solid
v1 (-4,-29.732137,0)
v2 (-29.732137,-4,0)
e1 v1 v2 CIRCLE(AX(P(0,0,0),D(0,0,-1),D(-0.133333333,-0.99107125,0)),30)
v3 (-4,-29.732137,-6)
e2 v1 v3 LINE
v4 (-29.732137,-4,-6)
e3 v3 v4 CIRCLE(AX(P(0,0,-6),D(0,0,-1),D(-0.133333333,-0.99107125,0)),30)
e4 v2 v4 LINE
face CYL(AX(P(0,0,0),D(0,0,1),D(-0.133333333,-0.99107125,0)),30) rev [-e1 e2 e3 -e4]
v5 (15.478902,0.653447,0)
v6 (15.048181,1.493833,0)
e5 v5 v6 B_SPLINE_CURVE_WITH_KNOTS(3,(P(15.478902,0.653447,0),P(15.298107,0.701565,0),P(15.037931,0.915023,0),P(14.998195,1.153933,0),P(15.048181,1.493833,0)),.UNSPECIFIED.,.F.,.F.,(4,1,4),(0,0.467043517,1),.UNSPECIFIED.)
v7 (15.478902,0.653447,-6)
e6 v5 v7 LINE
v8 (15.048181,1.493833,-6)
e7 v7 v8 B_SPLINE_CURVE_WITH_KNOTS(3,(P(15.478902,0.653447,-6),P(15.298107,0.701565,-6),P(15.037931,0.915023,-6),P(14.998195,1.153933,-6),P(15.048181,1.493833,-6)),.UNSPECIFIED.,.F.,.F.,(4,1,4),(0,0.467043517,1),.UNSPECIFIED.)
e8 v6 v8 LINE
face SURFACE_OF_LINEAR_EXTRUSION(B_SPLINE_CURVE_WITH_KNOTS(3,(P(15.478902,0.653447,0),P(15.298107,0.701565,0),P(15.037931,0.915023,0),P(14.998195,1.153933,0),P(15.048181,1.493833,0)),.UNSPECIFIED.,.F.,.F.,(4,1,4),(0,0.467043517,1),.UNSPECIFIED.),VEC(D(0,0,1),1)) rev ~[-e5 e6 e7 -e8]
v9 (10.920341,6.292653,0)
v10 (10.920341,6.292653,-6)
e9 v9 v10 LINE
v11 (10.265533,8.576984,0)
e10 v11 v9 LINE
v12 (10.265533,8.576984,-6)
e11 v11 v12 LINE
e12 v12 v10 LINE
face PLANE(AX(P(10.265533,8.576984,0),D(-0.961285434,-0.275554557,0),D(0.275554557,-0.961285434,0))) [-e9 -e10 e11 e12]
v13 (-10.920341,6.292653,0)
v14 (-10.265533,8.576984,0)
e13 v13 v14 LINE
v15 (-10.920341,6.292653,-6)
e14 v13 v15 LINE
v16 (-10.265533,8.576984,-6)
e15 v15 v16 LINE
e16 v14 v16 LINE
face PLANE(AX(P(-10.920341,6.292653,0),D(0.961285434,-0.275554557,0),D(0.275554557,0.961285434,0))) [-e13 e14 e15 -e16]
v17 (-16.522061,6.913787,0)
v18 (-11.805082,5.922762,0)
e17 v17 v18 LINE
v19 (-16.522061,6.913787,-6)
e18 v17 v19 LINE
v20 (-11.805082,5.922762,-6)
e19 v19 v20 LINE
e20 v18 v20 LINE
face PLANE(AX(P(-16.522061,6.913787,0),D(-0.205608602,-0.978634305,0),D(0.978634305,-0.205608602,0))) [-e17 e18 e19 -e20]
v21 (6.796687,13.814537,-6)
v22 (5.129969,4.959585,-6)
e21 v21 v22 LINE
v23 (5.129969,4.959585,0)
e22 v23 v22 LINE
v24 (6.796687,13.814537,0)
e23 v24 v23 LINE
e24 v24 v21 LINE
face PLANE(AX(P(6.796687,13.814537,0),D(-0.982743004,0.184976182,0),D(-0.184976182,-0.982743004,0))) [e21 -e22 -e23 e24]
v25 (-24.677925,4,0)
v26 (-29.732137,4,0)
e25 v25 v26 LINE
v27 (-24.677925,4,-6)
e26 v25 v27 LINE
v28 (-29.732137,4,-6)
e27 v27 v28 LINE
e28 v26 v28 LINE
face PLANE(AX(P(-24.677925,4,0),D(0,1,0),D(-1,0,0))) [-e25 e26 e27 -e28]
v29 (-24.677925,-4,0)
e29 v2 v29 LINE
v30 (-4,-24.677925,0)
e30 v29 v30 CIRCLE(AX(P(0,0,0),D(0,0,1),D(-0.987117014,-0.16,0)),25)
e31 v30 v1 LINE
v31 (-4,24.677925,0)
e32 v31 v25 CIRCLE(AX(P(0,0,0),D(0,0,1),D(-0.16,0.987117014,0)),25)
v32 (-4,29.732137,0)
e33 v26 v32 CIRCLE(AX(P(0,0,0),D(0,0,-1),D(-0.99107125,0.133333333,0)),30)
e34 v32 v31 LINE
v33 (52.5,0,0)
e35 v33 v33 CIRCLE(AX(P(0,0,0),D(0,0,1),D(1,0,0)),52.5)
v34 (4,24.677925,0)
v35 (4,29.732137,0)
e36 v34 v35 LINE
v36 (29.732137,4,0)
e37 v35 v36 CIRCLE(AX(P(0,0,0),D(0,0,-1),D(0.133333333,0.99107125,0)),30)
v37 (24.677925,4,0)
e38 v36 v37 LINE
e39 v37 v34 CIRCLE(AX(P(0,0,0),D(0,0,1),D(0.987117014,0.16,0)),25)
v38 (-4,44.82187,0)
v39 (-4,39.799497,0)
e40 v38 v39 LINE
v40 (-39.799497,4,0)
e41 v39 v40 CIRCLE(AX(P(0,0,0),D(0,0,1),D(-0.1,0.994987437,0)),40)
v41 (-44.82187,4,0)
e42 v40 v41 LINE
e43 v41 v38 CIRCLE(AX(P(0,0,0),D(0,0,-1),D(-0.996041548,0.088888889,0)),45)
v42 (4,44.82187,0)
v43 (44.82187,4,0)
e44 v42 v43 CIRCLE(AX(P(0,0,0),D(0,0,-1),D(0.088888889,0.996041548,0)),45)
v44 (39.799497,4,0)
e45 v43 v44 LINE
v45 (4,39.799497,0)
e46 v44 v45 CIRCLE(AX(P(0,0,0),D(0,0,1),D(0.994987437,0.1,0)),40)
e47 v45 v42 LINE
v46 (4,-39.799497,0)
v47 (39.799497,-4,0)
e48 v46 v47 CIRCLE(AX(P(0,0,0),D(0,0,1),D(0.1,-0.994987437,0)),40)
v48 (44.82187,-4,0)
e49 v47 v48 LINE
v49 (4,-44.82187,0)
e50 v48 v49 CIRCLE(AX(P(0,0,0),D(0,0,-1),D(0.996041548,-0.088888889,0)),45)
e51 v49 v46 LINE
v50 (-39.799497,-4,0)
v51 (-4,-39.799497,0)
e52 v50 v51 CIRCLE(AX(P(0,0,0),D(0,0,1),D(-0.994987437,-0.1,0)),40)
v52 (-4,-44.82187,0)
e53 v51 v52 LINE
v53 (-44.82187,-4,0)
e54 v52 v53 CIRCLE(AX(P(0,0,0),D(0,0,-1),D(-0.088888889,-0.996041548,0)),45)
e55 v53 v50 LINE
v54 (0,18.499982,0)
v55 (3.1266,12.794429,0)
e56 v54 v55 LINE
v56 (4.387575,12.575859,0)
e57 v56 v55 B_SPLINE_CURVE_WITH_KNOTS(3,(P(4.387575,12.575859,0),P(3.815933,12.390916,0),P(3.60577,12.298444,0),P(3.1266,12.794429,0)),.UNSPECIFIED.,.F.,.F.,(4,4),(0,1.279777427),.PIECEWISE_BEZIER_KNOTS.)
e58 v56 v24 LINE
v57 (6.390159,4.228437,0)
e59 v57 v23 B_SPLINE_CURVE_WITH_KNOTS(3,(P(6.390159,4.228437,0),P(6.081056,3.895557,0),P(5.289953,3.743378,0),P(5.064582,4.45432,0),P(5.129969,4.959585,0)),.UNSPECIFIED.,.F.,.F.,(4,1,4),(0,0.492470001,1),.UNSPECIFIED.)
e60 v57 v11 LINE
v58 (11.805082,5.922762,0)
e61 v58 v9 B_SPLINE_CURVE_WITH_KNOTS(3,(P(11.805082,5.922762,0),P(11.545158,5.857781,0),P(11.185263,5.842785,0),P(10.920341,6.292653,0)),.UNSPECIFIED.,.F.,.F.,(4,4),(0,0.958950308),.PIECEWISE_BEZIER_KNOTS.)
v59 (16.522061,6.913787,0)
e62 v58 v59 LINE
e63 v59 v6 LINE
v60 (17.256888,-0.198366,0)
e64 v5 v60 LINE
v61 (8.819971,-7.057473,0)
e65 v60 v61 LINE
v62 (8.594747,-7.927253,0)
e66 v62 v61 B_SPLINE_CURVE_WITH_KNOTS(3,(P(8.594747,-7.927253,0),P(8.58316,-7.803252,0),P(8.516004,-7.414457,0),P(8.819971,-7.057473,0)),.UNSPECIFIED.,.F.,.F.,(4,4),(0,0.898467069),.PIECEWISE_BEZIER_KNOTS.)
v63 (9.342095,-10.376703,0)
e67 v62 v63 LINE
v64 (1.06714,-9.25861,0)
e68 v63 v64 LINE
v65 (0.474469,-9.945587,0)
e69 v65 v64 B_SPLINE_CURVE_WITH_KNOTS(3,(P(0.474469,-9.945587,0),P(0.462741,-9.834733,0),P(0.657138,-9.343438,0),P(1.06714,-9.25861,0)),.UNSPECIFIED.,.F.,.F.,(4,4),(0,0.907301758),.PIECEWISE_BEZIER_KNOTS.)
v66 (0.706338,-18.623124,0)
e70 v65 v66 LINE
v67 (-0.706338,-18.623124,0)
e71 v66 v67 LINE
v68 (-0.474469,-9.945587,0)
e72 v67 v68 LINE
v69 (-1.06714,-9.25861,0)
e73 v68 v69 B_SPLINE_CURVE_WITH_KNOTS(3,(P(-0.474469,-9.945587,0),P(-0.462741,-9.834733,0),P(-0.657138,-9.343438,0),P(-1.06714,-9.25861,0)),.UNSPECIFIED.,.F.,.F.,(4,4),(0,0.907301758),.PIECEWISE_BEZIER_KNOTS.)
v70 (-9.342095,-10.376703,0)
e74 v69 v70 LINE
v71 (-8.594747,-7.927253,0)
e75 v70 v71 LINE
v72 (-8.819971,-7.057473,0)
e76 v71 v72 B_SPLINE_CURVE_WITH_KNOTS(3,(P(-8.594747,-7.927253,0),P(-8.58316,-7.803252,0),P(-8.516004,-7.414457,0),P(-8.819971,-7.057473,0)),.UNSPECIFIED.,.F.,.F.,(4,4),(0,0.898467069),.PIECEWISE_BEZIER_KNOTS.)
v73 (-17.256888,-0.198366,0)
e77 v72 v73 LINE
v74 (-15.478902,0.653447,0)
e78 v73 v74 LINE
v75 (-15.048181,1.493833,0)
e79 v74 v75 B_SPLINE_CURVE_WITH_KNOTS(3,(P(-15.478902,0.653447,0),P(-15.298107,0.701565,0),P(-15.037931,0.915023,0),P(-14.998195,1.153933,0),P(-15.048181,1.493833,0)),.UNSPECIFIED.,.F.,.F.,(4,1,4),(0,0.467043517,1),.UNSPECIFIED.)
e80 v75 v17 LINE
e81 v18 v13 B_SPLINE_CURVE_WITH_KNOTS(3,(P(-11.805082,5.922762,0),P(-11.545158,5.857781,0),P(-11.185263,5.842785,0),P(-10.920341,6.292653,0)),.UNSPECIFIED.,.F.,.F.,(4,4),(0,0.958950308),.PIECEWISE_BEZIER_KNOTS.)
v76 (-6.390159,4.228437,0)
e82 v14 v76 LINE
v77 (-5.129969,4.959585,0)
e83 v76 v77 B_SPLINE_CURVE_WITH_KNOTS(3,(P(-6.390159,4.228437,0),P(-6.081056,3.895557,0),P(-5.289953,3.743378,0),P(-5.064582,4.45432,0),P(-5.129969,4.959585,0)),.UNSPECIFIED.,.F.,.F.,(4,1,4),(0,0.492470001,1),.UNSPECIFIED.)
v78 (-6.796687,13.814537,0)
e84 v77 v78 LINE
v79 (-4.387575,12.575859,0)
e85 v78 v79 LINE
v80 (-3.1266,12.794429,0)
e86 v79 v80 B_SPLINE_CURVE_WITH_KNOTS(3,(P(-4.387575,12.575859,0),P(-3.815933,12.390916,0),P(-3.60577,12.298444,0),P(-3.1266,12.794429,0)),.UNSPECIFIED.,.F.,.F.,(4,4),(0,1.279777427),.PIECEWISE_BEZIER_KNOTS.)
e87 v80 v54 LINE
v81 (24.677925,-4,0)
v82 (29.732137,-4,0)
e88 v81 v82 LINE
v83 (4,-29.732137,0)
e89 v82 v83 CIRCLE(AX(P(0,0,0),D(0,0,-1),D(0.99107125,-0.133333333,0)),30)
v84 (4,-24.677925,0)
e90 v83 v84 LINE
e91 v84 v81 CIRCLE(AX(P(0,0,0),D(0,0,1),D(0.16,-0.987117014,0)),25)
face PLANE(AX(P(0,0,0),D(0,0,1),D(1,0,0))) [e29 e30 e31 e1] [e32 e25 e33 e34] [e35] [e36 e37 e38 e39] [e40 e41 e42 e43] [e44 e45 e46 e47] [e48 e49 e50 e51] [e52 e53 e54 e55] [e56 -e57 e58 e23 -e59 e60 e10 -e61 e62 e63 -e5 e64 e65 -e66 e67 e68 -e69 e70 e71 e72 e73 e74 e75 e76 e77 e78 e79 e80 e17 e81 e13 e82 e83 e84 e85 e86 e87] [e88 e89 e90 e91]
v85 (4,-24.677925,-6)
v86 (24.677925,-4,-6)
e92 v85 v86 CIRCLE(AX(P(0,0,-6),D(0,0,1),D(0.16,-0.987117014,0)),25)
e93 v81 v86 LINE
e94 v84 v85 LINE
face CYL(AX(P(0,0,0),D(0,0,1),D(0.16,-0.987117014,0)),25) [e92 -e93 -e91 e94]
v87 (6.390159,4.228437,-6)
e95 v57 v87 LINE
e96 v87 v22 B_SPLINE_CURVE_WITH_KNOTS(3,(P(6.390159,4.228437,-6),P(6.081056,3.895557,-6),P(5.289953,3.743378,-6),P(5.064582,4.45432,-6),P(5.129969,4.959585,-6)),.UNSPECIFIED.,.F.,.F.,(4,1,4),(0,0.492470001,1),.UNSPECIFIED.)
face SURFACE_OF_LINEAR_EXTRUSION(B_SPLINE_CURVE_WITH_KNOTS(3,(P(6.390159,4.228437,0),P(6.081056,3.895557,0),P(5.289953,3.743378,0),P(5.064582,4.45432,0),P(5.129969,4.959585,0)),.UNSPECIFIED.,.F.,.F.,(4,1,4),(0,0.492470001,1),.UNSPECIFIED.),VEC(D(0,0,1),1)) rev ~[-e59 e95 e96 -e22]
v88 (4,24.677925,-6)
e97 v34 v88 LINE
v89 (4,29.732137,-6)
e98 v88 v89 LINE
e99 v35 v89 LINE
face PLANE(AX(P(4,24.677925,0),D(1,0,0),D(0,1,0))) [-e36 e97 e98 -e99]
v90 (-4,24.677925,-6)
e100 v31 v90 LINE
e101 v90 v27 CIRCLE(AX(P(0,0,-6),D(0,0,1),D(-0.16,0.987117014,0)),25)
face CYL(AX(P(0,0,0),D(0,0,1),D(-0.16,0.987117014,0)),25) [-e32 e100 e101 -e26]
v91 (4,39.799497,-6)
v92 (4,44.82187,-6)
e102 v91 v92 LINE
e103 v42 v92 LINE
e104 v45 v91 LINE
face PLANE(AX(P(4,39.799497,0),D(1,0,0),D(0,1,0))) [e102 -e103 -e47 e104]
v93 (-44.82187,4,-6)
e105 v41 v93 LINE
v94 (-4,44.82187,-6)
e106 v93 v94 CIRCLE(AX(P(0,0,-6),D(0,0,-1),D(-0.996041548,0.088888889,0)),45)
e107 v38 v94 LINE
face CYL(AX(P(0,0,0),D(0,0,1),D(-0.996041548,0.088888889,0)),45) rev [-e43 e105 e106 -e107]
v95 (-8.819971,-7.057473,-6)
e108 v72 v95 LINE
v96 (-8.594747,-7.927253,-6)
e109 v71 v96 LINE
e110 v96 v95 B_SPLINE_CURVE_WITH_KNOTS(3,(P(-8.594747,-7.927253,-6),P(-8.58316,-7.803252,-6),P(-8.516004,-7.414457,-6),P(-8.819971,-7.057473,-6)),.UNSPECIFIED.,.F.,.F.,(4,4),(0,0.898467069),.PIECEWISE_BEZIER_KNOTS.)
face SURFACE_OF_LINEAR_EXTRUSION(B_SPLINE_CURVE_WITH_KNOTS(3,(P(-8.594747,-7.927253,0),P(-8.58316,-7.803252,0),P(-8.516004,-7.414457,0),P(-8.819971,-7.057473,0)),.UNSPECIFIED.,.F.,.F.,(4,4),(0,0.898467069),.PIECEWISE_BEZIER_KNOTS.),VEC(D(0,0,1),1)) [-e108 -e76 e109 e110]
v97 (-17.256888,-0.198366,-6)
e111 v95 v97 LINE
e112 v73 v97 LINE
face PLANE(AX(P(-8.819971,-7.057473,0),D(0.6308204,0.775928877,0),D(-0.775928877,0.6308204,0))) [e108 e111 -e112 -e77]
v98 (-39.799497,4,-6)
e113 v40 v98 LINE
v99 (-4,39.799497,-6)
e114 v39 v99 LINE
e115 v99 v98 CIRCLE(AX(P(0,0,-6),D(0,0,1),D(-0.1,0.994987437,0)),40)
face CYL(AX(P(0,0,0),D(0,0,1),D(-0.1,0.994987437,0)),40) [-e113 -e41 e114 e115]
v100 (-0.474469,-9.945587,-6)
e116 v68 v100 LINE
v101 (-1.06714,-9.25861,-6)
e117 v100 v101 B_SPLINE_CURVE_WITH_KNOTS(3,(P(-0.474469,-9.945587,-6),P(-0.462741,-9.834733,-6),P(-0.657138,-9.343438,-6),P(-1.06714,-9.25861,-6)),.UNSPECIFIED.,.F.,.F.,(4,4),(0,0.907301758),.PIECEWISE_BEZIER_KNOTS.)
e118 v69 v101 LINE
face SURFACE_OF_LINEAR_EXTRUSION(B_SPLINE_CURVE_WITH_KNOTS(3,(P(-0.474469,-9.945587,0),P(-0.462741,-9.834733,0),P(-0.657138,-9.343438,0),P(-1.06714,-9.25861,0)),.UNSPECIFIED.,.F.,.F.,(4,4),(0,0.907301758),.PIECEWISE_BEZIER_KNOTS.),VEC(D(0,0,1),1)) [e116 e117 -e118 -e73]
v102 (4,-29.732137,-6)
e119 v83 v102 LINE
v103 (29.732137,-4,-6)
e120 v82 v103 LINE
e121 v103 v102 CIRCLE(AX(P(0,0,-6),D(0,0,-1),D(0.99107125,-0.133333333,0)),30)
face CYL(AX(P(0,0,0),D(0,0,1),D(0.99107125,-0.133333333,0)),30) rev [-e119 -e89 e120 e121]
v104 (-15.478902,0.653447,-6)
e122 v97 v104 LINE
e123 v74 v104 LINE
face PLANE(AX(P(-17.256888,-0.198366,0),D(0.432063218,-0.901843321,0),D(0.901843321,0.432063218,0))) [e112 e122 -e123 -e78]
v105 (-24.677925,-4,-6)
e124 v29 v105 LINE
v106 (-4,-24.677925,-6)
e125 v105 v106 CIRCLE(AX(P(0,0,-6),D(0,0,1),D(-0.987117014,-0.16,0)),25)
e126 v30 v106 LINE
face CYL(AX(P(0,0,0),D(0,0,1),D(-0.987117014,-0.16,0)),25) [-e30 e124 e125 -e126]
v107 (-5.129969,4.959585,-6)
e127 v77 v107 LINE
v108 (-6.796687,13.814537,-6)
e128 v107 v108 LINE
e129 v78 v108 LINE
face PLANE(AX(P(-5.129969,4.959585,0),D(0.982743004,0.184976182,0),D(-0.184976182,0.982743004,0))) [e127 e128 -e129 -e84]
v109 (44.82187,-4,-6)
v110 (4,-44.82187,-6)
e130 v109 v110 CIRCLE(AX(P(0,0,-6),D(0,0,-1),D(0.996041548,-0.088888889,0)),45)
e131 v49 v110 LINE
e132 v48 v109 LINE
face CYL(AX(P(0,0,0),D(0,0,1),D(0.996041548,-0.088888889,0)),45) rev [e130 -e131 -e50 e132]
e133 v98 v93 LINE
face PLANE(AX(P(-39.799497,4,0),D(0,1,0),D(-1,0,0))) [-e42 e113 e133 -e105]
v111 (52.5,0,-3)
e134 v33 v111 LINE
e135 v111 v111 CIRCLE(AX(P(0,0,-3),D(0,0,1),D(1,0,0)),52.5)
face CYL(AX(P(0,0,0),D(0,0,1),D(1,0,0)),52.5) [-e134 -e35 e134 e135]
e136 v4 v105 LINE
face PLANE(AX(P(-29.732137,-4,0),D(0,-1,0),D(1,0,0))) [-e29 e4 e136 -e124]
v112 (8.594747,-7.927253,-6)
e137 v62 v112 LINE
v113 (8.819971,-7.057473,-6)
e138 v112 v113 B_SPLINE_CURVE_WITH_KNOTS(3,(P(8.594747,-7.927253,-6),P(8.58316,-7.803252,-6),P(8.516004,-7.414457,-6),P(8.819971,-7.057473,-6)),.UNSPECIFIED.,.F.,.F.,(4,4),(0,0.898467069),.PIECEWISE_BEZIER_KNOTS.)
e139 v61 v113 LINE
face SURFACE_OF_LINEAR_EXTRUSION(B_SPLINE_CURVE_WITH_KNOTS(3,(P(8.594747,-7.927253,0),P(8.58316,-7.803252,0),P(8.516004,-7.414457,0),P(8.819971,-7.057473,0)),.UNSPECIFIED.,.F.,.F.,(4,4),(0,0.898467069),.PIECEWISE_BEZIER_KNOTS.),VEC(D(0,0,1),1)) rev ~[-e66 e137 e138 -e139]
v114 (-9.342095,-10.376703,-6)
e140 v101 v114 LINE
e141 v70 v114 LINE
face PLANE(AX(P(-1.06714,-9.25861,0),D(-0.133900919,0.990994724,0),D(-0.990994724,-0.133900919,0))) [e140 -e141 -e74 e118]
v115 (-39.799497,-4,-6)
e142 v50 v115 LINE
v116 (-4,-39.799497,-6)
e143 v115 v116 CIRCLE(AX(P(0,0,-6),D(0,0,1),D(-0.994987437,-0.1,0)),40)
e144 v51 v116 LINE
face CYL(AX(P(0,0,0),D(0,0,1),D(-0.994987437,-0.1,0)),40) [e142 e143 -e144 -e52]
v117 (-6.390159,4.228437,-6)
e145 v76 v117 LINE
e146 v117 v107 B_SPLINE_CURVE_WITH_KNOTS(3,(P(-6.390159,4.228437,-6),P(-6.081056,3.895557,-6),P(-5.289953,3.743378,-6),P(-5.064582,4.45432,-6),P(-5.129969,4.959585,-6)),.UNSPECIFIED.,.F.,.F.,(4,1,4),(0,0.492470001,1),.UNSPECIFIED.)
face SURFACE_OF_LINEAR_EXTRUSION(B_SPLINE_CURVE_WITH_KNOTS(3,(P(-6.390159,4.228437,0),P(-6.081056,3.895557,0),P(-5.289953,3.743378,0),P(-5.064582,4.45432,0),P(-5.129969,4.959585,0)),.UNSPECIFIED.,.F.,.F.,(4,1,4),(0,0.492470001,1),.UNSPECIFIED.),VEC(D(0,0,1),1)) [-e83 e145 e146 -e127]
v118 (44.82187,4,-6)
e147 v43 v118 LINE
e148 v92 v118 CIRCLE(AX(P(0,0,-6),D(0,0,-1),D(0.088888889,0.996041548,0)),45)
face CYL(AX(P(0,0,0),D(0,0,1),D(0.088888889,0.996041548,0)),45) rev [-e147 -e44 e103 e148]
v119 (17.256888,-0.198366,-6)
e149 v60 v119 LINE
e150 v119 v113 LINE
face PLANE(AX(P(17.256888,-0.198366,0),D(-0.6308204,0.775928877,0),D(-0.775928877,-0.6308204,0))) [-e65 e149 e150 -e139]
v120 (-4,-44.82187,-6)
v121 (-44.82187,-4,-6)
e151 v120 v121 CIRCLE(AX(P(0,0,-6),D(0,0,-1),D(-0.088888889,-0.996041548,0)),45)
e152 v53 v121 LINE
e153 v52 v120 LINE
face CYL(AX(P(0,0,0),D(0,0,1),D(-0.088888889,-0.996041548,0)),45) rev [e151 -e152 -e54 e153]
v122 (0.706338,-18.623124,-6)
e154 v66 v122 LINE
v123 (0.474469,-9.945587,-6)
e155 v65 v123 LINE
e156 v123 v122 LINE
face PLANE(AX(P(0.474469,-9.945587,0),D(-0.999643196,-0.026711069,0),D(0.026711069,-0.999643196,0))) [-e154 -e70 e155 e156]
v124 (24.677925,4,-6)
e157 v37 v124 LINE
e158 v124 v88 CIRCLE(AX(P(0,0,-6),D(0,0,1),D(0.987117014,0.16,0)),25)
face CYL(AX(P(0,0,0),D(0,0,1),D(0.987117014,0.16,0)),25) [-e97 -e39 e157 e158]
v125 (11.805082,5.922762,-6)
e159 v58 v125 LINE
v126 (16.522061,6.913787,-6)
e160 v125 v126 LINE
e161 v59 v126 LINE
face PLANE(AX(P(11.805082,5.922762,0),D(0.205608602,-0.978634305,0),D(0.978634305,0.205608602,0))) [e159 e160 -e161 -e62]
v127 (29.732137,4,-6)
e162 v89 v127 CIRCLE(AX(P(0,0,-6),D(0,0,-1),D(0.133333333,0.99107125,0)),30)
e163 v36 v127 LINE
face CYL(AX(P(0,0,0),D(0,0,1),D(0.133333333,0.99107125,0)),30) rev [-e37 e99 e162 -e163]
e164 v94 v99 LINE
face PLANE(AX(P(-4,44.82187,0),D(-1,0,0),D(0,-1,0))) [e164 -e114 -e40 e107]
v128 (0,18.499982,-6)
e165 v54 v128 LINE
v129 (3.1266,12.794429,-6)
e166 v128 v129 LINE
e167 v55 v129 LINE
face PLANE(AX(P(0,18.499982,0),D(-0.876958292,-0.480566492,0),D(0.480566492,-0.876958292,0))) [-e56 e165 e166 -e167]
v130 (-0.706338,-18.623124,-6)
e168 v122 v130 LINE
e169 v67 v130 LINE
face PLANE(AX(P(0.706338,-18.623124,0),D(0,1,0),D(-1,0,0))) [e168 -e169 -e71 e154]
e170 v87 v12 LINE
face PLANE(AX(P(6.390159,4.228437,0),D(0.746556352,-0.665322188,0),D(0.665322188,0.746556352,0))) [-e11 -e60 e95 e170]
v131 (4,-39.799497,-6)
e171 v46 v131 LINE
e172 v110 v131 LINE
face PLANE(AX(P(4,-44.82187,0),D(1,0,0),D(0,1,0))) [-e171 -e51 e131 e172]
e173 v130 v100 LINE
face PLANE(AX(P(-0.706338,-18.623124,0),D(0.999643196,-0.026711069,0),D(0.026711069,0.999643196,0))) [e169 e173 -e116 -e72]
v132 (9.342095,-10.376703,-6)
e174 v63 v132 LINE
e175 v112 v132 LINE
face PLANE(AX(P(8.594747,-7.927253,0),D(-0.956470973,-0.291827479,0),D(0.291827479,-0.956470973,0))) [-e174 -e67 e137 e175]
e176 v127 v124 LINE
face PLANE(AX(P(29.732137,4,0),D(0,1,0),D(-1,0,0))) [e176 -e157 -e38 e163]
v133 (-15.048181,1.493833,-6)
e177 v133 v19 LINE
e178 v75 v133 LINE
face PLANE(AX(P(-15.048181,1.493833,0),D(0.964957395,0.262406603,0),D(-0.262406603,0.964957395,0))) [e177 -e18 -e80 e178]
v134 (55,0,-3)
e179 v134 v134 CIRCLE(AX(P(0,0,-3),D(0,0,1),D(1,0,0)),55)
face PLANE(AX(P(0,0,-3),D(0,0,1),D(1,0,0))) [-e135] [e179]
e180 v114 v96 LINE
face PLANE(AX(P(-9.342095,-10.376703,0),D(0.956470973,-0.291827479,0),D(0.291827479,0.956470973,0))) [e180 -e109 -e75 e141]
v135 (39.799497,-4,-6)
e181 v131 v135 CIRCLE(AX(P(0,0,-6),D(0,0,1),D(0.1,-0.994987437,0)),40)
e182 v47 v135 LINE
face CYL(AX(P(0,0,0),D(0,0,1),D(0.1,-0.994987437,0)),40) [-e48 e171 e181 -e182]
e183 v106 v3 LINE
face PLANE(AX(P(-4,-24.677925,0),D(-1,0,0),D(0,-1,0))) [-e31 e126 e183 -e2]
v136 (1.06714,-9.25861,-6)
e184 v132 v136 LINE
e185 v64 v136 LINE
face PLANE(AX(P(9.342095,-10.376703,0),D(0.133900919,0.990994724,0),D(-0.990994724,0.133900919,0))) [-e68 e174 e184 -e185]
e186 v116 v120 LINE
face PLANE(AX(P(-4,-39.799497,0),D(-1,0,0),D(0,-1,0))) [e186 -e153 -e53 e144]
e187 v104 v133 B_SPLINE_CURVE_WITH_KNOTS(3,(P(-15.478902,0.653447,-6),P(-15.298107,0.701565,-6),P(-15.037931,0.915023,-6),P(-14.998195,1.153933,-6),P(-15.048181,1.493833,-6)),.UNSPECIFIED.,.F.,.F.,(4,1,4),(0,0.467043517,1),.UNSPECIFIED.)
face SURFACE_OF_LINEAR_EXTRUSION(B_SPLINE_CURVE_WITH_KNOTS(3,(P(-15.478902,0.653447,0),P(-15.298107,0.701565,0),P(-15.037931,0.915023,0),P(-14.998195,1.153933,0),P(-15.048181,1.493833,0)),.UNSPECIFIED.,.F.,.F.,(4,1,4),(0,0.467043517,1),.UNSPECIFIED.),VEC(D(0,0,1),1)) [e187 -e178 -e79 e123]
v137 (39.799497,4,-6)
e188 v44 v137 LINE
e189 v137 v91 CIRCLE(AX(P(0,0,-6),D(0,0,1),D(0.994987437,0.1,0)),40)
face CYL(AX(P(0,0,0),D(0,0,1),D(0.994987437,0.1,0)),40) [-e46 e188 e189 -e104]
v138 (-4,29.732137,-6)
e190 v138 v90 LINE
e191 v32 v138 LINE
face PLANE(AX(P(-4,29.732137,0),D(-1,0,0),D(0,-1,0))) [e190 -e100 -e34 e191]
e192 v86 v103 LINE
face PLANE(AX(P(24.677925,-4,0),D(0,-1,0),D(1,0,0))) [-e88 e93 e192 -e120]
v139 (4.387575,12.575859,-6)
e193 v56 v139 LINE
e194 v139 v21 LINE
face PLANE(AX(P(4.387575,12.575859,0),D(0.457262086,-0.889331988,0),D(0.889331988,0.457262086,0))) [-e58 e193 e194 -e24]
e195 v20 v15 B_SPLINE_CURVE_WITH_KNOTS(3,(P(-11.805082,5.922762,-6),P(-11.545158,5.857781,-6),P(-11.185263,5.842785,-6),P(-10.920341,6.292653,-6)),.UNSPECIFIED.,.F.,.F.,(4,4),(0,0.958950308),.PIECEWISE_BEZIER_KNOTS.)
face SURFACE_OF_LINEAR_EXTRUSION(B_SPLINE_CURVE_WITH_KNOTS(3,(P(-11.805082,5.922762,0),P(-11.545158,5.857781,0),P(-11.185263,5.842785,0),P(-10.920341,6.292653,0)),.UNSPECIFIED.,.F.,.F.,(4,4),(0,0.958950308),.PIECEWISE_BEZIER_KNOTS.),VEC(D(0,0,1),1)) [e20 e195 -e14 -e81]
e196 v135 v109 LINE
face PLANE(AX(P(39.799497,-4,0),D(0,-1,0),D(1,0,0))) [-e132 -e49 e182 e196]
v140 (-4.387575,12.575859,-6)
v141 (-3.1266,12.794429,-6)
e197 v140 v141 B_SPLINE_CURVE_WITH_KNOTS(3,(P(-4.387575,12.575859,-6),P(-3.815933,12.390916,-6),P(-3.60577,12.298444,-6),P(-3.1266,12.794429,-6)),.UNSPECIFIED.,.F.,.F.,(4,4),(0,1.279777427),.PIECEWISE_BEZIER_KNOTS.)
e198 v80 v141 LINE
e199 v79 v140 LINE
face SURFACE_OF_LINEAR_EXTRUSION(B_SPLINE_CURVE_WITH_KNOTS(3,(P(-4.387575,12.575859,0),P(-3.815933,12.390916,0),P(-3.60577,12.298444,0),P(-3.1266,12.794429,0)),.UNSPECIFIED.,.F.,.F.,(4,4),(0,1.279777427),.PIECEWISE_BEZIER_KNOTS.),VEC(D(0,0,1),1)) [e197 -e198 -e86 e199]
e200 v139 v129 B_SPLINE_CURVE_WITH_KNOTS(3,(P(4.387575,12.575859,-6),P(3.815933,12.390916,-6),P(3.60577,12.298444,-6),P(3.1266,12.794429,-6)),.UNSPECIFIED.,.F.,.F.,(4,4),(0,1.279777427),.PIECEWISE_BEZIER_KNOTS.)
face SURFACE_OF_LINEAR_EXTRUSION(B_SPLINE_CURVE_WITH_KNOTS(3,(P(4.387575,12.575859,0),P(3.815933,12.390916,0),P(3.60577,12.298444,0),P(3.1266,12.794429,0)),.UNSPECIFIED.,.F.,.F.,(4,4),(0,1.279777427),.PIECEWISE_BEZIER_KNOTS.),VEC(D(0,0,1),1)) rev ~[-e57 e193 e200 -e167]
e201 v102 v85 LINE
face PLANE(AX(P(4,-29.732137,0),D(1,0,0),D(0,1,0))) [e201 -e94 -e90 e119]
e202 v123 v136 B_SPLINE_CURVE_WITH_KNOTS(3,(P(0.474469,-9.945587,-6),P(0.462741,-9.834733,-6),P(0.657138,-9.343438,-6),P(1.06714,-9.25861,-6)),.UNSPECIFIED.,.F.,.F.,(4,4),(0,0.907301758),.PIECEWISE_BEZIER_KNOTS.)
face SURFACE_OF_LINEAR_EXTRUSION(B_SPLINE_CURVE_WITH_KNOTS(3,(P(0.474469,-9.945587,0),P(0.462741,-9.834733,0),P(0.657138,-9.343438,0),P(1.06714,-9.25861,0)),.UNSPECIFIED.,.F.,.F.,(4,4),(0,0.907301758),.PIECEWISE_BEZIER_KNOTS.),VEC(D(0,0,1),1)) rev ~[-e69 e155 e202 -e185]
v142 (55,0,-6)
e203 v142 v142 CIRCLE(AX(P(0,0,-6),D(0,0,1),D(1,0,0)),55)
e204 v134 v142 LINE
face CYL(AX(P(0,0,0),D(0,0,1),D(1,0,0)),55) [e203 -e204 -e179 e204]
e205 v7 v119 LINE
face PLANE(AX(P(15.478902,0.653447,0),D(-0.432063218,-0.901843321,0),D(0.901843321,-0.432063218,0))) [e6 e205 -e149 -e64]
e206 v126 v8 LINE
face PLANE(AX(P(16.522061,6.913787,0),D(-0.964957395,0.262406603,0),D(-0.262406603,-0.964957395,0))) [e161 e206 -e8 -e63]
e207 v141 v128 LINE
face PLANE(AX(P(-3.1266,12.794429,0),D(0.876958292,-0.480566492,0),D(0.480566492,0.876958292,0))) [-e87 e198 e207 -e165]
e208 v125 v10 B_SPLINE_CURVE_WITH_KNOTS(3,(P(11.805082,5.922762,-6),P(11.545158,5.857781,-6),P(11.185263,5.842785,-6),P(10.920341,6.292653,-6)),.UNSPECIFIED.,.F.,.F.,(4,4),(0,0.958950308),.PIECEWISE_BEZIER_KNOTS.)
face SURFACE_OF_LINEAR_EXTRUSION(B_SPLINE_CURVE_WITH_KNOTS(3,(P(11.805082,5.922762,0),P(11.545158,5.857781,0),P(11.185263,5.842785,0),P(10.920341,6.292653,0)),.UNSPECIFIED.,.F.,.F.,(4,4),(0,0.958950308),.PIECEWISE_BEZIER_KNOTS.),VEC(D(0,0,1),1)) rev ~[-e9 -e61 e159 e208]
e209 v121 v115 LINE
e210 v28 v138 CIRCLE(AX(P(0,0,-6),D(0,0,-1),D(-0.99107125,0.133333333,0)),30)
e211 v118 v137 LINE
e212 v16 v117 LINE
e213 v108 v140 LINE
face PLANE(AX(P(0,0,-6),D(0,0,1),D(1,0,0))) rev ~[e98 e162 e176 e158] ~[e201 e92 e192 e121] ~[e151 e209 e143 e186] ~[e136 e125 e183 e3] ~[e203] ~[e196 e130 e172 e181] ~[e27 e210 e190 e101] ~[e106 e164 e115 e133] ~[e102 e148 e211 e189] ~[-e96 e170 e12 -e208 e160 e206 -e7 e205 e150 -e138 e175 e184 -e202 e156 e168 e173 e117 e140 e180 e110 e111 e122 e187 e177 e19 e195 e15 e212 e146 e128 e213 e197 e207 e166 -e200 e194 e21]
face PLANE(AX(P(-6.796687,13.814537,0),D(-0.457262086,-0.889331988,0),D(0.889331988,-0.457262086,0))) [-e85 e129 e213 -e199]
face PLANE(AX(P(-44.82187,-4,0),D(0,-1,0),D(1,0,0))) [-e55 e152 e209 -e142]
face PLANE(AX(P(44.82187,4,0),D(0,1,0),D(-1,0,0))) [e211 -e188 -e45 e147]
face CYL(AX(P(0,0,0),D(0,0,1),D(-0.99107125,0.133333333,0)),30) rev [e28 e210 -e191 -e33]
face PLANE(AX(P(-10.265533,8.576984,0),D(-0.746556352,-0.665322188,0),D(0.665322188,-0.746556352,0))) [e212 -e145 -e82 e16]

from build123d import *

# Parameters (mm, degrees)
F0_R     = 55
F0_R_2   = 52.5
F1_DEPTH = 6
F2_DEPTH = 3


with BuildPart() as f1:
    # F0 (on Top) → F1 (new body)
    with BuildSketch(Plane.XY):
        Circle(F0_R)
        Circle(F0_R_2, mode=Mode.SUBTRACT)
        Circle(F0_R_2)
        with BuildLine():
            Line((-4, -39.7994974843), (-4, -44.821869662))
            ThreePointArc((-4, -44.821869662), (-31.8198051534, -31.8198051534), (-44.821869662, -4))
            Line((-44.821869662, -4), (-39.7994974843, -4))
            ThreePointArc((-39.7994974843, -4), (-28.2842712475, -28.2842712475), (-4, -39.7994974843))
        make_face(mode=Mode.SUBTRACT)
        with BuildLine():
            ThreePointArc((-4, -29.7321374946), (-21.2132034356, -21.2132034356), (-29.7321374946, -4))
            Line((-29.7321374946, -4), (-24.6779253585, -4))
            ThreePointArc((-24.6779253585, -4), (-17.6776695297, -17.6776695297), (-4, -24.6779253585))
            Line((-4, -24.6779253585), (-4, -29.7321374946))
        make_face(mode=Mode.SUBTRACT)
        with BuildLine():
            Line((39.7994974843, -4), (44.821869662, -4))
            ThreePointArc((44.821869662, -4), (31.8198051534, -31.8198051534), (4, -44.821869662))
            Line((4, -44.821869662), (4, -39.7994974843))
            ThreePointArc((4, -39.7994974843), (28.2842712475, -28.2842712475), (39.7994974843, -4))
        make_face(mode=Mode.SUBTRACT)
        with BuildLine():
            ThreePointArc((29.7321374946, -4), (21.2132034356, -21.2132034356), (4, -29.7321374946))
            Line((4, -29.7321374946), (4, -24.6779253585))
            ThreePointArc((4, -24.6779253585), (17.6776695297, -17.6776695297), (24.6779253585, -4))
            Line((24.6779253585, -4), (29.7321374946, -4))
        make_face(mode=Mode.SUBTRACT)
        with BuildLine():
            Line((0.7063379744, -18.6231244003), (0, -18.6231244003))
            Line((0, -18.6231244003), (-0.7063379744, -18.6231244003))
            Line((-0.7063379744, -18.6231244003), (-0.4744689504, -9.9455872551))
            add(Edge.make_bspline(
                [(-0.4744689504, -9.9455872551), (-0.4627407761, -9.8347328603), (-0.6571381819, -9.3434378505), (-1.0671400232, -9.2586101964)],
                knots=[0, 0, 0, 0, 0.9073017578, 0.9073017578, 0.9073017578, 0.9073017578], degree=3))
            Line((-1.0671400232, -9.2586101964), (-9.3420948833, -10.3767029941))
            Line((-9.3420948833, -10.3767029941), (-8.5947467014, -7.927252911))
            add(Edge.make_bspline(
                [(-8.5947467014, -7.927252911), (-8.5831601173, -7.8032519668), (-8.5160043091, -7.4144573882), (-8.8199712336, -7.0574730635)],
                knots=[0, 0, 0, 0, 0.8984670685, 0.8984670685, 0.8984670685, 0.8984670685], degree=3))
            Line((-8.8199712336, -7.0574730635), (-17.2568876296, -0.1983663387))
            Line((-17.2568876296, -0.1983663387), (-15.4789015651, 0.6534472341))
            add(Edge.make_bspline(
                [(-15.4789015651, 0.6534472341), (-15.2981067076, 0.7015652373), (-15.0379305841, 0.9150229577), (-14.9981947616, 1.1539326515), (-15.0481807068, 1.4938330278)],
                knots=[0, 0, 0, 0, 0.4670435173, 1, 1, 1, 1], degree=3))
            Line((-15.0481807068, 1.4938330278), (-16.5220610797, 6.9137872197))
            Line((-16.5220610797, 6.9137872197), (-11.80508174, 5.9227617458))
            add(Edge.make_bspline(
                [(-11.80508174, 5.9227617458), (-11.5451579913, 5.8577810414), (-11.1852632836, 5.842785351), (-10.9203411266, 6.2926532701)],
                knots=[0, 0, 0, 0, 0.9589503078, 0.9589503078, 0.9589503078, 0.9589503078], degree=3))
            Line((-10.9203411266, 6.2926532701), (-10.265532881, 8.576983586))
            Line((-10.265532881, 8.576983586), (-6.390159484, 4.2284368537))
            add(Edge.make_bspline(
                [(-6.390159484, 4.2284368537), (-6.0810563155, 3.8955565542), (-5.2899533571, 3.7433779044), (-5.0645819865, 4.4543202966), (-5.1299692132, 4.9595851451)],
                knots=[0, 0, 0, 0, 0.4924700015, 1, 1, 1, 1], degree=3))
            Line((-5.1299692132, 4.9595851451), (-6.7966869101, 13.8145368546))
            Line((-6.7966869101, 13.8145368546), (-4.387574736, 12.5758592039))
            add(Edge.make_bspline(
                [(-4.387574736, 12.5758592039), (-3.8159328979, 12.3909162357), (-3.60577018, 12.298444286), (-3.1265998259, 12.794428505)],
                knots=[0, 0, 0, 0, 1.2797774272, 1.2797774272, 1.2797774272, 1.2797774272], degree=3))
            Line((-3.1265998259, 12.794428505), (0, 18.499981612))
            Line((0, 18.499981612), (3.1265998259, 12.794428505))
            add(Edge.make_bspline(
                [(4.387574736, 12.5758592039), (3.8159328979, 12.3909162357), (3.60577018, 12.298444286), (3.1265998259, 12.794428505)],
                knots=[0, 0, 0, 0, 1.2797774272, 1.2797774272, 1.2797774272, 1.2797774272], degree=3))
            Line((4.387574736, 12.5758592039), (6.7966869101, 13.8145368546))
            Line((6.7966869101, 13.8145368546), (5.1299692132, 4.9595851451))
            add(Edge.make_bspline(
                [(6.390159484, 4.2284368537), (6.0810563155, 3.8955565542), (5.2899533571, 3.7433779044), (5.0645819865, 4.4543202966), (5.1299692132, 4.9595851451)],
                knots=[0, 0, 0, 0, 0.4924700015, 1, 1, 1, 1], degree=3))
            Line((6.390159484, 4.2284368537), (10.265532881, 8.576983586))
            Line((10.265532881, 8.576983586), (10.9203411266, 6.2926532701))
            add(Edge.make_bspline(
                [(11.80508174, 5.9227617458), (11.5451579913, 5.8577810414), (11.1852632836, 5.842785351), (10.9203411266, 6.2926532701)],
                knots=[0, 0, 0, 0, 0.9589503078, 0.9589503078, 0.9589503078, 0.9589503078], degree=3))
            Line((11.80508174, 5.9227617458), (16.5220610797, 6.9137872197))
            Line((16.5220610797, 6.9137872197), (15.0481807068, 1.4938330278))
            add(Edge.make_bspline(
                [(15.4789015651, 0.6534472341), (15.2981067076, 0.7015652373), (15.0379305841, 0.9150229577), (14.9981947616, 1.1539326515), (15.0481807068, 1.4938330278)],
                knots=[0, 0, 0, 0, 0.4670435173, 1, 1, 1, 1], degree=3))
            Line((15.4789015651, 0.6534472341), (17.2568876296, -0.1983663387))
            Line((17.2568876296, -0.1983663387), (8.8199712336, -7.0574730635))
            add(Edge.make_bspline(
                [(8.5947467014, -7.927252911), (8.5831601173, -7.8032519668), (8.5160043091, -7.4144573882), (8.8199712336, -7.0574730635)],
                knots=[0, 0, 0, 0, 0.8984670685, 0.8984670685, 0.8984670685, 0.8984670685], degree=3))
            Line((8.5947467014, -7.927252911), (9.3420948833, -10.3767029941))
            Line((9.3420948833, -10.3767029941), (1.0671400232, -9.2586101964))
            add(Edge.make_bspline(
                [(0.4744689504, -9.9455872551), (0.4627407761, -9.8347328603), (0.6571381819, -9.3434378505), (1.0671400232, -9.2586101964)],
                knots=[0, 0, 0, 0, 0.9073017578, 0.9073017578, 0.9073017578, 0.9073017578], degree=3))
            Line((0.4744689504, -9.9455872551), (0.7063379744, -18.6231244003))
        make_face(mode=Mode.SUBTRACT)
        with BuildLine():
            Line((-4, 29.7321374946), (-4, 24.6779253585))
            ThreePointArc((-4, 24.6779253585), (-17.6776695297, 17.6776695297), (-24.6779253585, 4))
            Line((-24.6779253585, 4), (-29.7321374946, 4))
            ThreePointArc((-29.7321374946, 4), (-21.2132034356, 21.2132034356), (-4, 29.7321374946))
        make_face(mode=Mode.SUBTRACT)
        with BuildLine():
            Line((-4, 44.821869662), (-4, 39.7994974843))
            ThreePointArc((-4, 39.7994974843), (-28.2842712475, 28.2842712475), (-39.7994974843, 4))
            Line((-39.7994974843, 4), (-44.821869662, 4))
            ThreePointArc((-44.821869662, 4), (-31.8198051534, 31.8198051534), (-4, 44.821869662))
        make_face(mode=Mode.SUBTRACT)
        with BuildLine():
            ThreePointArc((4, 29.7321374946), (21.2132034356, 21.2132034356), (29.7321374946, 4))
            Line((29.7321374946, 4), (24.6779253585, 4))
            ThreePointArc((24.6779253585, 4), (17.6776695297, 17.6776695297), (4, 24.6779253585))
            Line((4, 24.6779253585), (4, 29.7321374946))
        make_face(mode=Mode.SUBTRACT)
        with BuildLine():
            Line((4, 39.7994974843), (4, 44.821869662))
            ThreePointArc((4, 44.821869662), (31.8198051534, 31.8198051534), (44.821869662, 4))
            Line((44.821869662, 4), (39.7994974843, 4))
            ThreePointArc((39.7994974843, 4), (28.2842712475, 28.2842712475), (4, 39.7994974843))
        make_face(mode=Mode.SUBTRACT)
    extrude(amount=-F1_DEPTH)

    # F0 (on Top) → F2 (cut)
    with BuildSketch(Plane.XY):
        Circle(F0_R)
        Circle(F0_R_2, mode=Mode.SUBTRACT)
    extrude(amount=-F2_DEPTH, mode=Mode.SUBTRACT)


solid = f1.part
